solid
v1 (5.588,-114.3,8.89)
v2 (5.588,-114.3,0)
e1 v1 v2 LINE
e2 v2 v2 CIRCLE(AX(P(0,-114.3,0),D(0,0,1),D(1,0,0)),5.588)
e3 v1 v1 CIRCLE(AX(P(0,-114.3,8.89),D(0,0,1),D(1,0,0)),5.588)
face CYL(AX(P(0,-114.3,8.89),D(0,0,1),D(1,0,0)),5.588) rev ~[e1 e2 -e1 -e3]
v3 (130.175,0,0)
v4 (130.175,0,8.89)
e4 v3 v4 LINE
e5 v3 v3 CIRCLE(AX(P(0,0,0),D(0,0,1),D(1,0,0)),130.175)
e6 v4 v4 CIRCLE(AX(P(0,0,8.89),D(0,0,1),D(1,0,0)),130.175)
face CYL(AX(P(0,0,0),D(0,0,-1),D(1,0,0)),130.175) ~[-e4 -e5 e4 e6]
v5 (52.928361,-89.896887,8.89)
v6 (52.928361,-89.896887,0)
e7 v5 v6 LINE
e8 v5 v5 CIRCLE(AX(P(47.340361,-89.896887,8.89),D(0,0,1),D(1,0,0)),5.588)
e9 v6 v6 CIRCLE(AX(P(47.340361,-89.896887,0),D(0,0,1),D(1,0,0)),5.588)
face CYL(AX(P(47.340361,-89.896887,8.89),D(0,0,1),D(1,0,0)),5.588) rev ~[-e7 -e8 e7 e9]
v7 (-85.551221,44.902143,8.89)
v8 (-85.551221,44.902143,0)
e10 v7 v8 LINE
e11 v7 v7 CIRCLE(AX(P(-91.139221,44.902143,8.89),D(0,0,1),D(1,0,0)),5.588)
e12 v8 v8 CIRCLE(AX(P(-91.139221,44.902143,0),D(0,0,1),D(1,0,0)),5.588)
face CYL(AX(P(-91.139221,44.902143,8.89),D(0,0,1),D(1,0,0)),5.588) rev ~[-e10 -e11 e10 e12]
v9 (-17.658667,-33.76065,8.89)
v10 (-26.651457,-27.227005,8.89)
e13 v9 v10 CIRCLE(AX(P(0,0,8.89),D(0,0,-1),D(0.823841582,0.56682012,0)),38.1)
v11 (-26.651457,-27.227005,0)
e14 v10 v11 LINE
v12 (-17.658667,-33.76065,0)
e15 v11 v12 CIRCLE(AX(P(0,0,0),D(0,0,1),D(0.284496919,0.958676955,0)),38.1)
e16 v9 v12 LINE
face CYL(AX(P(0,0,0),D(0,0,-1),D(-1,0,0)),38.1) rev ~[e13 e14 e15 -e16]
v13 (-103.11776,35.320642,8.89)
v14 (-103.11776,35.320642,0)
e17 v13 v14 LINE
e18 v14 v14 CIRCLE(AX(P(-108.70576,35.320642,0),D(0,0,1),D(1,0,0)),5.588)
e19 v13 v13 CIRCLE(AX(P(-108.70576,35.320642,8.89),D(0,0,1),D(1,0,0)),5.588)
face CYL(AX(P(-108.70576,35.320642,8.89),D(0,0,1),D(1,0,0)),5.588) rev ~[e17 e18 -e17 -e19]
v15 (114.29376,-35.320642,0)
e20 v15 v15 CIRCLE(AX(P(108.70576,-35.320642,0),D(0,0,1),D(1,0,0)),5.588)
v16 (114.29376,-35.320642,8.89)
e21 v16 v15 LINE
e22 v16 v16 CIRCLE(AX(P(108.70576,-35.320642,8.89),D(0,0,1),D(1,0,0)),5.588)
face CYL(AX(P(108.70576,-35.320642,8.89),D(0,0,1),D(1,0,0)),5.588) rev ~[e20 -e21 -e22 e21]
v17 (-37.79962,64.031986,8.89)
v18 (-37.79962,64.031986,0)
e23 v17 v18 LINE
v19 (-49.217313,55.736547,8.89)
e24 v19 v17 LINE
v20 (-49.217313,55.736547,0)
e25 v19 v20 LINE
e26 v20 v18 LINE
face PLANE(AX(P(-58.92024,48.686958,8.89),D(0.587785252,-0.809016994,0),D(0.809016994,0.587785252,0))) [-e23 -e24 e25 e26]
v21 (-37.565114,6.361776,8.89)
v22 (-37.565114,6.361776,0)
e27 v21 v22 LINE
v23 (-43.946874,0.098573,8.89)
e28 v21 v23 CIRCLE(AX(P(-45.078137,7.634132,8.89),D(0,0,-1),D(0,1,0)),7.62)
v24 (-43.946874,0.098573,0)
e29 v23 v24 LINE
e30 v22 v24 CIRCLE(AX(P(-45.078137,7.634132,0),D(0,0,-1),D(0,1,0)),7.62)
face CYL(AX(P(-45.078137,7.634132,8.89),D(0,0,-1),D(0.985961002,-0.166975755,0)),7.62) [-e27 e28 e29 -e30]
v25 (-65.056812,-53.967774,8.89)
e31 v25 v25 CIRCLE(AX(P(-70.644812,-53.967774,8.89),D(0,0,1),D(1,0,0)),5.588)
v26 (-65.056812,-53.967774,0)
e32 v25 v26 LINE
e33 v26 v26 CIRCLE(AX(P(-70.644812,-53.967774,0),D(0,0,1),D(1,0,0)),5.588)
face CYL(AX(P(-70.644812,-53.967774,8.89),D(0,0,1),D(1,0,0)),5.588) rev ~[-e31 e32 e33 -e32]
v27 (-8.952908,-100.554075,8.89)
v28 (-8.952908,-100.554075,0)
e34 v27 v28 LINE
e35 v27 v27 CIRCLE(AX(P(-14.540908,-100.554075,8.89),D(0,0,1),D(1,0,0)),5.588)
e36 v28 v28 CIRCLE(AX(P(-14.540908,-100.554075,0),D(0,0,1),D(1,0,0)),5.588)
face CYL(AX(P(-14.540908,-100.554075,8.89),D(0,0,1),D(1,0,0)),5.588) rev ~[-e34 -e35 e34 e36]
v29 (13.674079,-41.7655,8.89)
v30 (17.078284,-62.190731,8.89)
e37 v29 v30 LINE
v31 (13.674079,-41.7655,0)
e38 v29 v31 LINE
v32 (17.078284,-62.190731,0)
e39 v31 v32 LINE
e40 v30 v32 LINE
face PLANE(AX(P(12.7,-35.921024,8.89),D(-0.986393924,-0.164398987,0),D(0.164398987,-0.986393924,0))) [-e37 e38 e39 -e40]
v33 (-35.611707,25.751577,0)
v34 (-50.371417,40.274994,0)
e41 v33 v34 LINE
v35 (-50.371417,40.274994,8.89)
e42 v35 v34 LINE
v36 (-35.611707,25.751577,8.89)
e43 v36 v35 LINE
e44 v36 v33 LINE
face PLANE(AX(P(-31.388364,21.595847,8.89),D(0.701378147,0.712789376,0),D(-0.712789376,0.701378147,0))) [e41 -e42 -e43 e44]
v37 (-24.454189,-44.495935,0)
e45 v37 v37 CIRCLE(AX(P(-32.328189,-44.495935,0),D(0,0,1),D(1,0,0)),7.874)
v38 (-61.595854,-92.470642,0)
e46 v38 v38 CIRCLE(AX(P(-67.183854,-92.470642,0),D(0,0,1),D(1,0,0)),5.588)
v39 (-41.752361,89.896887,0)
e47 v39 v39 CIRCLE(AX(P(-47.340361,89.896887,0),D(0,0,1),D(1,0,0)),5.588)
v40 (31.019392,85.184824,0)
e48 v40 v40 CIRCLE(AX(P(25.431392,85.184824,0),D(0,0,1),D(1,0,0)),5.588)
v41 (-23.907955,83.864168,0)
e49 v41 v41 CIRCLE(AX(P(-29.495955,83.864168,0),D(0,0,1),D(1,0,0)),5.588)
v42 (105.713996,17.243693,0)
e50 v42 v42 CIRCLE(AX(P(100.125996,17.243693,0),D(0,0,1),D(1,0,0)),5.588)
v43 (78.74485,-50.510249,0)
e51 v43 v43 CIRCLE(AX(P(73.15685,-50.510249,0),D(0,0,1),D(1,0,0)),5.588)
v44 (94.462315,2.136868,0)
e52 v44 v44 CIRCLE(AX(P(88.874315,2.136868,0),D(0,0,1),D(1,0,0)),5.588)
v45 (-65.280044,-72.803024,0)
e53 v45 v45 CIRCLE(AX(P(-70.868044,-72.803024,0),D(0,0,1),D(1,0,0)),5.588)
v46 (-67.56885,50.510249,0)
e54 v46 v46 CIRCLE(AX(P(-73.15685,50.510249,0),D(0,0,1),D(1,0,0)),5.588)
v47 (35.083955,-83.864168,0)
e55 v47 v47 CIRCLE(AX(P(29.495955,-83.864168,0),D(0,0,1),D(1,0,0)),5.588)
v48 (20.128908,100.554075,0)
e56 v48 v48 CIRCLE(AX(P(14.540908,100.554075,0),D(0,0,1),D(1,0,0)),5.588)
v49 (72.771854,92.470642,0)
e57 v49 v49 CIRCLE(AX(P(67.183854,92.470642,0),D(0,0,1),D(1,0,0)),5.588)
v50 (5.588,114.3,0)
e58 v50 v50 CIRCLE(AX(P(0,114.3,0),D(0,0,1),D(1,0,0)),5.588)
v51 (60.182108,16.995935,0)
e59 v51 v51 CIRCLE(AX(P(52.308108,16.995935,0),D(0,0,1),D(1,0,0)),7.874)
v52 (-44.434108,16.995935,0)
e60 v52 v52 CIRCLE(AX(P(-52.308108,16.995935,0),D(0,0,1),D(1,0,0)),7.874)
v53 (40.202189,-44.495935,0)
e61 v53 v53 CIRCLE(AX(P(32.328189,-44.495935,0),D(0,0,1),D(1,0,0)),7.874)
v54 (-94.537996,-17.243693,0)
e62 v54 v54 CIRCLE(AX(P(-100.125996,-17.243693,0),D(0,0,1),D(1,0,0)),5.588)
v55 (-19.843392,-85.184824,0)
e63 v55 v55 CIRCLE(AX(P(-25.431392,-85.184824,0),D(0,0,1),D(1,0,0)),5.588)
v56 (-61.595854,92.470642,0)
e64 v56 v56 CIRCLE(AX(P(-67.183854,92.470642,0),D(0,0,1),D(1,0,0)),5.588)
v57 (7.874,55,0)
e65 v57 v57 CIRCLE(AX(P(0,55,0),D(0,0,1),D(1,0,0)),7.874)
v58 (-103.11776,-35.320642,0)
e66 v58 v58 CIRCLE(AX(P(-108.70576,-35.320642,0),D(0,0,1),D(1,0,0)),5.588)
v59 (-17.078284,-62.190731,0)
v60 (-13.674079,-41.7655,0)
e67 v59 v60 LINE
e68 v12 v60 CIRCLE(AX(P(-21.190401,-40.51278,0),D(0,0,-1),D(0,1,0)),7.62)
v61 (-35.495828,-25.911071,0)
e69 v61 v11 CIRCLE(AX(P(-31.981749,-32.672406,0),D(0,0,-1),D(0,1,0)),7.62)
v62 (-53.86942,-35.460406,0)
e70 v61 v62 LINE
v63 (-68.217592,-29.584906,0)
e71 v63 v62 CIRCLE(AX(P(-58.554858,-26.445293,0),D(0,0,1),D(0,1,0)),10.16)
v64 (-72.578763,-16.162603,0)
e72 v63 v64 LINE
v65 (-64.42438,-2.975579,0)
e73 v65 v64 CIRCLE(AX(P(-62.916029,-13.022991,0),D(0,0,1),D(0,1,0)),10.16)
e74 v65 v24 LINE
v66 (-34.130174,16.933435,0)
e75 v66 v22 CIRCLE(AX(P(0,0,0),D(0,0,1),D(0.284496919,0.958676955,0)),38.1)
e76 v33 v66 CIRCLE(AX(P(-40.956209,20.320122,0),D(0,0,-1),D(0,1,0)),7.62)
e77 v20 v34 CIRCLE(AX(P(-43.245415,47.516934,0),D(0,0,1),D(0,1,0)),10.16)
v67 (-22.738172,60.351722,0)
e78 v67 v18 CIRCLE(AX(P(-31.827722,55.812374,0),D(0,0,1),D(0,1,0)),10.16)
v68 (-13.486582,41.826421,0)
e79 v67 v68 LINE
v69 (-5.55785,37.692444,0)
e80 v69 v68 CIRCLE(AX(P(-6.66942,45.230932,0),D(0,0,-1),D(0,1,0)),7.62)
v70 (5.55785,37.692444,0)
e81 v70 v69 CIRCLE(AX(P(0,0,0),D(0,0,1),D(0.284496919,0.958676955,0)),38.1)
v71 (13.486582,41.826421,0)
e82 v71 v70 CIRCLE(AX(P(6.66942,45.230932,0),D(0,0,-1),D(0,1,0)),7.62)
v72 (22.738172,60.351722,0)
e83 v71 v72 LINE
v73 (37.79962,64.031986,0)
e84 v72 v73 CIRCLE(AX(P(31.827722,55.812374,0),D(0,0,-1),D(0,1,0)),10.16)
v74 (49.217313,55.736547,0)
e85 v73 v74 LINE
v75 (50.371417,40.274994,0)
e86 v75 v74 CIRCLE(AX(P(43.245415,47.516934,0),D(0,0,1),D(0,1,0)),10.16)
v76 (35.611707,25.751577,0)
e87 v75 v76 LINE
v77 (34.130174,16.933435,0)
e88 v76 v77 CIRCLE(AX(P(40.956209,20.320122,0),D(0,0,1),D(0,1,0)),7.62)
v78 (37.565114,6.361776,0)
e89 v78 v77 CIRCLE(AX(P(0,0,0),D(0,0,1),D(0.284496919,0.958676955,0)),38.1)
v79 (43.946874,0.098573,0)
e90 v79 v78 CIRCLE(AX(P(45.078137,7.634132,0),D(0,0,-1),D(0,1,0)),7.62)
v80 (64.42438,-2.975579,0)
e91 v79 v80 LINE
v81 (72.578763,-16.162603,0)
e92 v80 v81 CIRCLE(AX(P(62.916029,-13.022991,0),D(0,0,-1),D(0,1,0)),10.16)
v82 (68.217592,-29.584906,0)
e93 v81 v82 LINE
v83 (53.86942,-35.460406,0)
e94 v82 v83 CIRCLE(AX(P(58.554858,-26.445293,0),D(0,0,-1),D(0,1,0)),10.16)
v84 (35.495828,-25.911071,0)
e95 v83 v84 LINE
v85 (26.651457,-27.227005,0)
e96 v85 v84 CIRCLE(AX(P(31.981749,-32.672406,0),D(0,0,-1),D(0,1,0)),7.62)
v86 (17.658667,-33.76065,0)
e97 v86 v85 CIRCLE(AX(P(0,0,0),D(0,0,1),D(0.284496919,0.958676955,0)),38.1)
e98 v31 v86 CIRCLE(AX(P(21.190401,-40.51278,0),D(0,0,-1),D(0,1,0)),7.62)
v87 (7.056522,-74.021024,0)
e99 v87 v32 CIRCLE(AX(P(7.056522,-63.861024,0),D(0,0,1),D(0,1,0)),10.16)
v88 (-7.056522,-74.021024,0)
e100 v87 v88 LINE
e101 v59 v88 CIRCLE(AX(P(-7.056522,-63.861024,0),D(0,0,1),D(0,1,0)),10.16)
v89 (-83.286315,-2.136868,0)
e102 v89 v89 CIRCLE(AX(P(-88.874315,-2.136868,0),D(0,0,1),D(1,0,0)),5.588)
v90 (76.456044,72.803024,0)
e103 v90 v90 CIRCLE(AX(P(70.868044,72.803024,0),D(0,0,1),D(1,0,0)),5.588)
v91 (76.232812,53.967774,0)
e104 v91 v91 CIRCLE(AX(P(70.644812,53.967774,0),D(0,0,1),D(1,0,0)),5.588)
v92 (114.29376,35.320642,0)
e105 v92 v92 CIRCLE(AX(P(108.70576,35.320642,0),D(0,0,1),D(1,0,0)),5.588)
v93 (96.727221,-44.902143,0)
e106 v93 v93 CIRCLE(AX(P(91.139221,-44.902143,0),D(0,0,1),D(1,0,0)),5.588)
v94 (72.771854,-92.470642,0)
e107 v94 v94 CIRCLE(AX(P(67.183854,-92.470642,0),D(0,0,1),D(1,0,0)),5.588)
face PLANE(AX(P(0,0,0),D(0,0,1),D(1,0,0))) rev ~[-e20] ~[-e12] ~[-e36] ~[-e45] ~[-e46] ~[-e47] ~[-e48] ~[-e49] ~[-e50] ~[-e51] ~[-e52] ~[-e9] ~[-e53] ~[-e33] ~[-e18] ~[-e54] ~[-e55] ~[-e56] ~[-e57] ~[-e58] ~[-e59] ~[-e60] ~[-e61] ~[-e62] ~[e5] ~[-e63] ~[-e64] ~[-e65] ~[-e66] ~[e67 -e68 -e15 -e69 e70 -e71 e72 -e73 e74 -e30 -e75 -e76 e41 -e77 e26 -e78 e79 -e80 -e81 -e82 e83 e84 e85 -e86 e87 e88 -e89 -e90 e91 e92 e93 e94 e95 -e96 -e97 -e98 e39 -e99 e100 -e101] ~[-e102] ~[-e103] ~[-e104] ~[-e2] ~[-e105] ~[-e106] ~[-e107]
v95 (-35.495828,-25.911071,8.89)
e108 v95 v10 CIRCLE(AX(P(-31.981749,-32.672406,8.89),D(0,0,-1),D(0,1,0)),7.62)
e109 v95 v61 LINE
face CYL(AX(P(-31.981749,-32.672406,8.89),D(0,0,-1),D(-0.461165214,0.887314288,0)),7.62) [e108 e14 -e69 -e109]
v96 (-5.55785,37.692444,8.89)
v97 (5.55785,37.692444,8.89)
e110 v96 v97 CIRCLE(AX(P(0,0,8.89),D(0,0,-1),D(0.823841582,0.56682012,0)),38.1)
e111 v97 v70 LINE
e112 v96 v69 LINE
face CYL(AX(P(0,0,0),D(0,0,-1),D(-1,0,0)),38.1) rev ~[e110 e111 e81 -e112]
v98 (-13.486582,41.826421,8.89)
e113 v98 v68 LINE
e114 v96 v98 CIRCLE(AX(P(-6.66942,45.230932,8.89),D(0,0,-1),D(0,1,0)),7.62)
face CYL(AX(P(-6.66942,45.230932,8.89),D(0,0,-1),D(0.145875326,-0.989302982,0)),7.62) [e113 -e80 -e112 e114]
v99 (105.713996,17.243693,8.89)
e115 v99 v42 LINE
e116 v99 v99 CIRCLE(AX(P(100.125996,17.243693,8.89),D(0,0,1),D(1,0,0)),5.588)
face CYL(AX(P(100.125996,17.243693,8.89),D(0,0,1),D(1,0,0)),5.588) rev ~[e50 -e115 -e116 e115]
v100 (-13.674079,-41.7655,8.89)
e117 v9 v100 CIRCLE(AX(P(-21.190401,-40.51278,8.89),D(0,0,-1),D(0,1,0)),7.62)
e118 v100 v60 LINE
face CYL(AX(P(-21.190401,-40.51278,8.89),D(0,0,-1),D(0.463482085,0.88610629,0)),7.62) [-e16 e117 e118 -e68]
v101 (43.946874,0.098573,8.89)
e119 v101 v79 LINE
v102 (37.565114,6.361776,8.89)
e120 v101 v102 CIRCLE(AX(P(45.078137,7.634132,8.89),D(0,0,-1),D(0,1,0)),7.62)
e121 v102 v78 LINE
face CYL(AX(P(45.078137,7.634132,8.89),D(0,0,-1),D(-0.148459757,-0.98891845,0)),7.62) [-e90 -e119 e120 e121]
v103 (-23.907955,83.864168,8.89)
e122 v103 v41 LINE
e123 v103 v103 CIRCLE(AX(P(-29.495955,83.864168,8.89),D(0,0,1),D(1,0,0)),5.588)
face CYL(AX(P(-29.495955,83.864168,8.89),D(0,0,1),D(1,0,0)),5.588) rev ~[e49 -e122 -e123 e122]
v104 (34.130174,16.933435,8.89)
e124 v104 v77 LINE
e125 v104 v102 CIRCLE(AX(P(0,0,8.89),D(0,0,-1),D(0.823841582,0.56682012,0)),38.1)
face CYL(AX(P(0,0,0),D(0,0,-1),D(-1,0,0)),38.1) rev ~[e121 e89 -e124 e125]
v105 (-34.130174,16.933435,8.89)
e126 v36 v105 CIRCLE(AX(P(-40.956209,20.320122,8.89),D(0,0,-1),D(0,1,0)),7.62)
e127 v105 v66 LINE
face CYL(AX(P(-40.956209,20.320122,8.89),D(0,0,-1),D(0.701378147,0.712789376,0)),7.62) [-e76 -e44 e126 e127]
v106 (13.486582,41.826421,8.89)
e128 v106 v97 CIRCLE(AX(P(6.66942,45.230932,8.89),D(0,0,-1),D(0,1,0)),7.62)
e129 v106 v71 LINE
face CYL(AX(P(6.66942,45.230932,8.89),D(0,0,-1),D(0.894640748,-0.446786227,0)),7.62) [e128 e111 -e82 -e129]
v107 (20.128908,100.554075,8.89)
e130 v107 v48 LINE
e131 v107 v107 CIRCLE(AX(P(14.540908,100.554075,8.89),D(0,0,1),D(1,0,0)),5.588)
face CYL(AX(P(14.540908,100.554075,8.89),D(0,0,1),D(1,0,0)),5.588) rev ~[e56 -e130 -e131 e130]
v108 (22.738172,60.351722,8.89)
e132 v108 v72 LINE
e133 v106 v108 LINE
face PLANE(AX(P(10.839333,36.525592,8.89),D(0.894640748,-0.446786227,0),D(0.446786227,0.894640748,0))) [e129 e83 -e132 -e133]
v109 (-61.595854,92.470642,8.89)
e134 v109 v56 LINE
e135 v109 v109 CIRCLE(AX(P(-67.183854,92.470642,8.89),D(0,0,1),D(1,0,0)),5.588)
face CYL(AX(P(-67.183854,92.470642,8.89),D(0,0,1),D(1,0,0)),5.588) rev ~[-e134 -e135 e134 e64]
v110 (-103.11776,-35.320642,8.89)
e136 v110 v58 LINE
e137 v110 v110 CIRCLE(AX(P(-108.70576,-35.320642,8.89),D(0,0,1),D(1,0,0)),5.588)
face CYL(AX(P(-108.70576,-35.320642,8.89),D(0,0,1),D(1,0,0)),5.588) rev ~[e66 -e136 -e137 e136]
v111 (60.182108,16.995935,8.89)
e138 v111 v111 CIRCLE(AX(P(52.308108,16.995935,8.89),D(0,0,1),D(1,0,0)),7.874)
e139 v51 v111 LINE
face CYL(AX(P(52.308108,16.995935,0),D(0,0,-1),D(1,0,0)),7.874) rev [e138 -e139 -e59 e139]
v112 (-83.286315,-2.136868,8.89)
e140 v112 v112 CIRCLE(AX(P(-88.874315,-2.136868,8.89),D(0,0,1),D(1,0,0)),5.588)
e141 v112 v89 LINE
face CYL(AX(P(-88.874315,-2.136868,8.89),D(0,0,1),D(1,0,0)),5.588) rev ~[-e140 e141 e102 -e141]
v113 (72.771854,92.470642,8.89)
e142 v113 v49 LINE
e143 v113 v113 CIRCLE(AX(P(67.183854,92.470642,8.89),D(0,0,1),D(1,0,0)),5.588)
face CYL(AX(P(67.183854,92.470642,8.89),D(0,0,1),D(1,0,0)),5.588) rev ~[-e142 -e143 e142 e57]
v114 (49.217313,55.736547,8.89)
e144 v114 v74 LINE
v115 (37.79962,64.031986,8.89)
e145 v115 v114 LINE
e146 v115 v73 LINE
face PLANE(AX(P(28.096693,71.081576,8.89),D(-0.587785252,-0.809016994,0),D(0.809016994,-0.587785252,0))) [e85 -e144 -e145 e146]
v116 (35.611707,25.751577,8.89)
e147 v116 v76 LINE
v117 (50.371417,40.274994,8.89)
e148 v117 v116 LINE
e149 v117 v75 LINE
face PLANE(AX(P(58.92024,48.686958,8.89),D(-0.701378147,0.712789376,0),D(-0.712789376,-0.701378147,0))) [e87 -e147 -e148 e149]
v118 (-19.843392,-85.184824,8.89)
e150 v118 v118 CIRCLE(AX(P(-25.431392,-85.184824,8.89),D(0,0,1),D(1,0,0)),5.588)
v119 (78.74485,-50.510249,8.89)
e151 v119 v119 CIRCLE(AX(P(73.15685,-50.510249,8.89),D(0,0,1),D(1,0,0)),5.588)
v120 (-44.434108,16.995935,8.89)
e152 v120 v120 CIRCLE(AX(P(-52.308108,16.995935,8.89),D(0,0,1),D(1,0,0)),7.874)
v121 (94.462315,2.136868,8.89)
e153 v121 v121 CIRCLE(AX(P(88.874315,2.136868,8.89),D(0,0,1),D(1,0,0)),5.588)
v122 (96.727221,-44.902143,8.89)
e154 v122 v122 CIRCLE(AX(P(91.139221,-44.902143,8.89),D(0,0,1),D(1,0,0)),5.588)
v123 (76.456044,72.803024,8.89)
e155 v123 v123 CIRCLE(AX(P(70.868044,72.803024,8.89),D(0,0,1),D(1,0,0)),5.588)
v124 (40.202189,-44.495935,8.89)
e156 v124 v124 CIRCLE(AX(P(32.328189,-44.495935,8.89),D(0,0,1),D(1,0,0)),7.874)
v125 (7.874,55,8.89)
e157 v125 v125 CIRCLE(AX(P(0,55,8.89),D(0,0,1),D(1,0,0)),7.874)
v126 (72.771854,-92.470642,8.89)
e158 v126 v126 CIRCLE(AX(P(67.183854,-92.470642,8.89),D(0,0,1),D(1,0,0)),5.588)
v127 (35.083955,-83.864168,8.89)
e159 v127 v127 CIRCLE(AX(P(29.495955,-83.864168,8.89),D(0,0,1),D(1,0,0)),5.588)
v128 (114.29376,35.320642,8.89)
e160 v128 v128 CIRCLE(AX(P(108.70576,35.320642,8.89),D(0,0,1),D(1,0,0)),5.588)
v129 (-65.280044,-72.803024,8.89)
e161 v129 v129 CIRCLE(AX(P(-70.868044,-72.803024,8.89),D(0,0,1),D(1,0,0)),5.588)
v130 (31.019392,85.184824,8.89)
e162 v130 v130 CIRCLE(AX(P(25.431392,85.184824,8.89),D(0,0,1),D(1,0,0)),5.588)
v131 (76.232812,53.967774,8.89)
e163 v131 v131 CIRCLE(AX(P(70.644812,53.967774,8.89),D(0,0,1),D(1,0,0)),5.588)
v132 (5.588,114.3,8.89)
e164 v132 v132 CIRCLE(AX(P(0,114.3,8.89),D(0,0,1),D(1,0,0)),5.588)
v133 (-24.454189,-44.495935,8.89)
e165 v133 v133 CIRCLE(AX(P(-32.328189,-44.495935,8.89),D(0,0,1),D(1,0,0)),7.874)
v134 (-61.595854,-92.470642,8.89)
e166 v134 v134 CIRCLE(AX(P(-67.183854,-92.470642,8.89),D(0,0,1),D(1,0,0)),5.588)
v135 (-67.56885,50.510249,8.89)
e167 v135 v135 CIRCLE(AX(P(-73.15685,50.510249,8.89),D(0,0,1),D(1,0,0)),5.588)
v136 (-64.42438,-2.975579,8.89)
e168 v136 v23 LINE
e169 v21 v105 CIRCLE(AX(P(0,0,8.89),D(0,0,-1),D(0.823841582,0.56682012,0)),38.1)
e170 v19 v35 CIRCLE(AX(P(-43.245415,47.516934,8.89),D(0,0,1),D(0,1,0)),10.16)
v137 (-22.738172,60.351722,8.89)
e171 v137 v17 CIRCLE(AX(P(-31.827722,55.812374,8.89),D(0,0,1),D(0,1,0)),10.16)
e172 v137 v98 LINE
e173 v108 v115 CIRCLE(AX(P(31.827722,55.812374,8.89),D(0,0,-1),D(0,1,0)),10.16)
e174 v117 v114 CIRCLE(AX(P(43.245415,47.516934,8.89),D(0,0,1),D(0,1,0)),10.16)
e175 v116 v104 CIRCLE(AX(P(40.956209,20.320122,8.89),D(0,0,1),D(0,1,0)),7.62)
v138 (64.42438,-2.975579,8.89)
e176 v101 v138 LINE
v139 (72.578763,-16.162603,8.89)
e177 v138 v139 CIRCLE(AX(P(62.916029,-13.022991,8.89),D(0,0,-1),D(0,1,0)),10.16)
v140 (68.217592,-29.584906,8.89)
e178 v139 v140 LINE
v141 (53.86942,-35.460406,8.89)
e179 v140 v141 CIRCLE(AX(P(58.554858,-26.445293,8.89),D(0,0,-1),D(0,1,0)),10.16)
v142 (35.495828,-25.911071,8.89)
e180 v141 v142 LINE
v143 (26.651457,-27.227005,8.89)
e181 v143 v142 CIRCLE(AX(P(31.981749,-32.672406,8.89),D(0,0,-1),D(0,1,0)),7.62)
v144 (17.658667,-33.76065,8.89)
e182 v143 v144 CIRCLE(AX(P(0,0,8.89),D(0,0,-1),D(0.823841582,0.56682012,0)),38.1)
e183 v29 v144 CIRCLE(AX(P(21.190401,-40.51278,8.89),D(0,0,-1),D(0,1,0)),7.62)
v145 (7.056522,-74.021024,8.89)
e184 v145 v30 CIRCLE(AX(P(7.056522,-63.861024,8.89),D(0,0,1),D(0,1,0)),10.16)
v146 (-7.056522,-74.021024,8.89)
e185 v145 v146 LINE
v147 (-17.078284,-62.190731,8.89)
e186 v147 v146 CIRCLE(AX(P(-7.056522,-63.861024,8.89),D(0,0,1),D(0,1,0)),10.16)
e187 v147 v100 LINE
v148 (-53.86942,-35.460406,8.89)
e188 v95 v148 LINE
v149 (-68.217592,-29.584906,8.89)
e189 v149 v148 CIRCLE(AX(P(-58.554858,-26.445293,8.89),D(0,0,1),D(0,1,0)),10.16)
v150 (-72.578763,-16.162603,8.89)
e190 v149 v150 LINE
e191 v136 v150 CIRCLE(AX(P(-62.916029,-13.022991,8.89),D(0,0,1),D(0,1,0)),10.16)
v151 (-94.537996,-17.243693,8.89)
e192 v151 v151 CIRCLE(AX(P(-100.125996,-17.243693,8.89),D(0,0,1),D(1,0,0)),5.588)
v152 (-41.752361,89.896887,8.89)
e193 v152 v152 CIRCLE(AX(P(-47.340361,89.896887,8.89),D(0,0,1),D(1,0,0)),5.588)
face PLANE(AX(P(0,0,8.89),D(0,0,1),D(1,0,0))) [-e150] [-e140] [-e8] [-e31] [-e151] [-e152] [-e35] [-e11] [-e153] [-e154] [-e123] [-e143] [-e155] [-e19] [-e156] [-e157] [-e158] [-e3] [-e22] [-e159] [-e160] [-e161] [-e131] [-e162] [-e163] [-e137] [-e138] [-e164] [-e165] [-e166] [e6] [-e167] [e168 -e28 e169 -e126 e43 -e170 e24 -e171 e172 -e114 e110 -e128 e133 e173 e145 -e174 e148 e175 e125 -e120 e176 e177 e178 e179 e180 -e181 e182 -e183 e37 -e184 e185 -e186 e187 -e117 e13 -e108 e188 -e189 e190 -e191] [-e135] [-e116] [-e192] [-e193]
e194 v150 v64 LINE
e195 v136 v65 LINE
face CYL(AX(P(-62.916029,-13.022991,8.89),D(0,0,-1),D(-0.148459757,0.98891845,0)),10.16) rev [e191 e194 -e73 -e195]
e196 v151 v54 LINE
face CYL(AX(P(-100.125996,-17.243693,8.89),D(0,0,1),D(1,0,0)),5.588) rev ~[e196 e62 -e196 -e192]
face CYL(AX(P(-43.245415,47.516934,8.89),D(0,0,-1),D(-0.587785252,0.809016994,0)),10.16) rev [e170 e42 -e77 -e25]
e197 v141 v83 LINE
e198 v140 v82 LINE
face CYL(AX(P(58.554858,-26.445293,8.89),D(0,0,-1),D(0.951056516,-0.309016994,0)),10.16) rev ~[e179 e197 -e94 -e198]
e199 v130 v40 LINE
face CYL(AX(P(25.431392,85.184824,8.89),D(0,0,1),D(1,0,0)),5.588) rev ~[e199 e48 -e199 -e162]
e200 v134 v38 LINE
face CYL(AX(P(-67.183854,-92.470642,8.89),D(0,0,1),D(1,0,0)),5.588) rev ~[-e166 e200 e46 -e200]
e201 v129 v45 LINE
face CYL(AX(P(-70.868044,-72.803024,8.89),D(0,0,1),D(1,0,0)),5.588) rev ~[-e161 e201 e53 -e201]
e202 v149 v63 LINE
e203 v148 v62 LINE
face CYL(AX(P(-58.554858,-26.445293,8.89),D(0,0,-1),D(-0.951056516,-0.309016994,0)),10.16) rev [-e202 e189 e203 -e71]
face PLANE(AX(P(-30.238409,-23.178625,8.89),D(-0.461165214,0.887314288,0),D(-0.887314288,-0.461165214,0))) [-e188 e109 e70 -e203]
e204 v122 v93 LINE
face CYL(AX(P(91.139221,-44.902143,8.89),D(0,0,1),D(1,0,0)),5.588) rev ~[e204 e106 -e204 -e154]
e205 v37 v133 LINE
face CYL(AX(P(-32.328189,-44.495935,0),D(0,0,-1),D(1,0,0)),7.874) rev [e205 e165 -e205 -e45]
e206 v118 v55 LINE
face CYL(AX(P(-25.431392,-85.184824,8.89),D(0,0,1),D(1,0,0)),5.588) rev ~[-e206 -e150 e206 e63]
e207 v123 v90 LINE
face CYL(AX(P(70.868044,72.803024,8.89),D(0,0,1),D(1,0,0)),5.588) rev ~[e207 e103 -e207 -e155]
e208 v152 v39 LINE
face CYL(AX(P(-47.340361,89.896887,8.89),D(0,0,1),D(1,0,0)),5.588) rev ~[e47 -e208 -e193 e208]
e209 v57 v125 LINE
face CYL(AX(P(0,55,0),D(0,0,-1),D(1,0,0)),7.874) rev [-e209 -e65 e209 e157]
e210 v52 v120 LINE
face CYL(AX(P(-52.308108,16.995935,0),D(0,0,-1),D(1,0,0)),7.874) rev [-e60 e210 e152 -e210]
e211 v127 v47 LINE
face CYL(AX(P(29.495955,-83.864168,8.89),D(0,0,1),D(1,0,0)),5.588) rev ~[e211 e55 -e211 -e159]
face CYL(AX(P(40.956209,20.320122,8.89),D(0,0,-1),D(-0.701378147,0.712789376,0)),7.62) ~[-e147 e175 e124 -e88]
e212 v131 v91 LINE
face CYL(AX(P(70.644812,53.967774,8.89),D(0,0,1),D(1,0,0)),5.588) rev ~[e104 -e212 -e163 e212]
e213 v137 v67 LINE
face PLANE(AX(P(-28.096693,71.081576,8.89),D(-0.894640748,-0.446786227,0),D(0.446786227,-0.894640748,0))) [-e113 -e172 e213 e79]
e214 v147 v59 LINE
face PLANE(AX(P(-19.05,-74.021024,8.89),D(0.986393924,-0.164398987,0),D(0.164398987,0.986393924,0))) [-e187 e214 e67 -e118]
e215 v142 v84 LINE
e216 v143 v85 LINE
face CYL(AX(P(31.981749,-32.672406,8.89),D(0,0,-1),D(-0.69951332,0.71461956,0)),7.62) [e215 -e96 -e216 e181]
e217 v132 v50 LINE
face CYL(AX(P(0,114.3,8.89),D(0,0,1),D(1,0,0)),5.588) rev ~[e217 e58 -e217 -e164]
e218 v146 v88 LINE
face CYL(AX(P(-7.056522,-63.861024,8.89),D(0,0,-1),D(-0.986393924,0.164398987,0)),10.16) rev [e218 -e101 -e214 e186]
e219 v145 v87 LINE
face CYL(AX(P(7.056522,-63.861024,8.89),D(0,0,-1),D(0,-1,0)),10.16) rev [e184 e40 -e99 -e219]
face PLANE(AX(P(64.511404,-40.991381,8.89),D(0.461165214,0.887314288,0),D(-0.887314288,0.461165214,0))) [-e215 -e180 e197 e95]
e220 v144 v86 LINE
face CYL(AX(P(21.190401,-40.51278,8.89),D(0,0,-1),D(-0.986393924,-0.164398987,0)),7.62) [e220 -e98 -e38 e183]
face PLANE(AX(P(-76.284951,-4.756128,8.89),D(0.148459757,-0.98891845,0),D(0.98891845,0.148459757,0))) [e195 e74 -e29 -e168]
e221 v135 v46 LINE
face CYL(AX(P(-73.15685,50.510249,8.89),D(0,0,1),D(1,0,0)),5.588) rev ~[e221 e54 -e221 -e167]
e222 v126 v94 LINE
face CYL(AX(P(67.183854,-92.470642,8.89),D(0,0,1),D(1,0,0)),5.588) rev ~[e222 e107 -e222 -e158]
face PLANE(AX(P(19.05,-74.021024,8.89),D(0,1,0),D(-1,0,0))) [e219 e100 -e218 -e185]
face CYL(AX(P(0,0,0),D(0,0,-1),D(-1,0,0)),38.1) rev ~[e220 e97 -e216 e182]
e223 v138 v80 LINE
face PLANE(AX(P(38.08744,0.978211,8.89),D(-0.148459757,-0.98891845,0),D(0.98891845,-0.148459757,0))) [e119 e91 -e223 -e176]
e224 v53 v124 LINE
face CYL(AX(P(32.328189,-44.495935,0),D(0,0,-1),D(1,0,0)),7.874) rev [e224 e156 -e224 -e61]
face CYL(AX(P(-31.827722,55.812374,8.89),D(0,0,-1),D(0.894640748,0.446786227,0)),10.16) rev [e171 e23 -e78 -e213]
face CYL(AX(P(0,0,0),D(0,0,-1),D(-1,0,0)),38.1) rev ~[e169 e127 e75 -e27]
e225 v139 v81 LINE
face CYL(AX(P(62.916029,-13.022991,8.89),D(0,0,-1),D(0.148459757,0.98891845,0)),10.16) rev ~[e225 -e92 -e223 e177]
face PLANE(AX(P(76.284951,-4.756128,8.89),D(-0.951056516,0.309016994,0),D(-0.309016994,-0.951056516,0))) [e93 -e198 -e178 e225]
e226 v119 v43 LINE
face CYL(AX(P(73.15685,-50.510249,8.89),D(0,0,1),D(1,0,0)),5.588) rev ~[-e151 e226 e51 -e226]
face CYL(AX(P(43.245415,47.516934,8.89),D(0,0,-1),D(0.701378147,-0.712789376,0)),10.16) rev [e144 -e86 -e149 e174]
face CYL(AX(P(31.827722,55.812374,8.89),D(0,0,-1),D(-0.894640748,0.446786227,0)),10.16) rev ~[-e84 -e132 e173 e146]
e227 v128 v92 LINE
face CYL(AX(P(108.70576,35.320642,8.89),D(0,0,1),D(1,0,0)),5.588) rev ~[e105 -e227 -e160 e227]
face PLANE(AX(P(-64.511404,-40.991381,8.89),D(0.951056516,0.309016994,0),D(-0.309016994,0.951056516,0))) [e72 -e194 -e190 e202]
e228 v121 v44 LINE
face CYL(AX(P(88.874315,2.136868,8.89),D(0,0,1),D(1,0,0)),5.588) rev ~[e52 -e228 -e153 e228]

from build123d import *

# Parameters (mm, degrees)
SKETCH1_R                = 130.175
SKETCH1_R_2              = 7.874
EXTRUDE1_DEPTH           = 8.89
SKETCH3_R                = 38.1
EXTRUDE3_DEPTH           = 185.309775514
SKETCH4_R                = 5.588
EXTRUDE4_DEPTH           = 185.309775514
EXTRUDE9_DEPTH           = 185.309775514
FILLET1_R                = 7.62
FILLET2_R                = 10.16
CIRPATTERN1_COUNT        = 5
FILLET1_OF_CIRPATTERN1_R = 7.62
FILLET2_OF_CIRPATTERN1_R = 10.16


with BuildPart() as part:
    # Sketch1 → Extrude1 (new body)
    with BuildSketch(Plane.XY):
        Circle(SKETCH1_R)
        with Locations((0, 55)):
            Circle(SKETCH1_R_2, mode=Mode.SUBTRACT)
        with Locations((52.308108396, 16.995934691)):
            Circle(SKETCH1_R_2, mode=Mode.SUBTRACT)
        with Locations((32.328188876, -44.495934691)):
            Circle(SKETCH1_R_2, mode=Mode.SUBTRACT)
        with Locations((-32.328188876, -44.495934691)):
            Circle(SKETCH1_R_2, mode=Mode.SUBTRACT)
        with Locations((-52.308108396, 16.995934691)):
            Circle(SKETCH1_R_2, mode=Mode.SUBTRACT)
    extrude(amount=EXTRUDE1_DEPTH)

    # Sketch3 → Extrude3 (cut, through all)
    with BuildSketch(Plane(origin=(0, 0, 0), x_dir=(-1, 0, 0), z_dir=(0, 0, -1))):
        Circle(SKETCH3_R)
    extrude(amount=-EXTRUDE3_DEPTH, mode=Mode.SUBTRACT)

    # Sketch4 → Extrude4 (cut, through all)
    with BuildSketch(Plane.XY.offset(8.89)):
        with Locations((0, 114.3)):
            Circle(SKETCH4_R)
        with Locations((14.540907903, 100.554074991)):
            Circle(SKETCH4_R)
        with Locations((25.431391759, 85.18482443)):
            Circle(SKETCH4_R)
        with Locations((70.868043945, 72.803024301)):
            Circle(SKETCH4_R)
        with Locations((70.644811643, 53.967773605)):
            Circle(SKETCH4_R)
        with Locations((67.183854337, 92.470642457)):
            Circle(SKETCH4_R)
        with Locations((100.125995916, 17.243692812)):
            Circle(SKETCH4_R)
        with Locations((88.874314608, 2.13686756)):
            Circle(SKETCH4_R)
        with Locations((108.705759813, 35.320642457)):
            Circle(SKETCH4_R)
        with Locations((91.139220605, -44.90214324)):
            Circle(SKETCH4_R)
        with Locations((73.156850119, -50.510249263)):
            Circle(SKETCH4_R)
        with Locations((108.705759813, -35.320642457)):
            Circle(SKETCH4_R)
        with Locations((47.34036073, -89.896886742)):
            Circle(SKETCH4_R)
        with Locations((29.495955395, -83.864167648)):
            Circle(SKETCH4_R)
        with Locations((67.183854337, -92.470642457)):
            Circle(SKETCH4_R)
        with Locations((-14.540907903, -100.554074991)):
            Circle(SKETCH4_R)
        with Locations((-25.431391759, -85.18482443)):
            Circle(SKETCH4_R)
        with Locations((0, -114.3)):
            Circle(SKETCH4_R)
        with Locations((-70.868043945, -72.803024301)):
            Circle(SKETCH4_R)
        with Locations((-70.644811643, -53.967773605)):
            Circle(SKETCH4_R)
        with Locations((-67.183854337, -92.470642457)):
            Circle(SKETCH4_R)
        with Locations((-100.125995916, -17.243692812)):
            Circle(SKETCH4_R)
        with Locations((-88.874314608, -2.13686756)):
            Circle(SKETCH4_R)
        with Locations((-108.705759813, -35.320642457)):
            Circle(SKETCH4_R)
        with Locations((-91.139220605, 44.90214324)):
            Circle(SKETCH4_R)
        with Locations((-73.156850119, 50.510249263)):
            Circle(SKETCH4_R)
        with Locations((-108.705759813, 35.320642457)):
            Circle(SKETCH4_R)
        with Locations((-47.34036073, 89.896886742)):
            Circle(SKETCH4_R)
        with Locations((-29.495955395, 83.864167648)):
            Circle(SKETCH4_R)
        with Locations((-67.183854337, 92.470642457)):
            Circle(SKETCH4_R)
    extrude(amount=-EXTRUDE4_DEPTH, mode=Mode.SUBTRACT)

    # Sketch8 → Extrude9 (cut, through all)
    with BuildSketch(Plane.XY.offset(8.89)):
        Polygon((28.096692809, 71.081575805), (58.920240294, 48.686957693), (31.388364268, 21.595846559), (10.839332611, 36.525591967), align=None)
    extrude9 = extrude(amount=-EXTRUDE9_DEPTH, mode=Mode.SUBTRACT)

    # Fillet1
    fillet1_edges = [part.edges().sort_by_distance(p)[0] for p in [
        (31.388364268, 21.595846559, 4.445),
        (10.839332611, 36.525591967, 4.445),
    ]]
    fillet(fillet1_edges, radius=FILLET1_R)

    # Fillet2
    fillet2_edges = [part.edges().sort_by_distance(p)[0] for p in [
        (58.920240294, 48.686957693, 4.445),
        (28.096692809, 71.081575805, 4.445),
    ]]
    fillet(fillet2_edges, radius=FILLET2_R)

    # CirPattern1: Extrude9 ×5 about axis
    cirpattern1_axis = Axis((0, 0, 0), (0, 0, -1))
    for i in range(1, CIRPATTERN1_COUNT):
        add(extrude9.rotate(cirpattern1_axis, i * 360 / CIRPATTERN1_COUNT), mode=Mode.SUBTRACT)

    # Fillet1 of CirPattern1
    fillet1_of_cirpattern1_edges = [part.edges().sort_by_distance(p)[0] for p in [
        (30.238408579, -23.178624778, 4.445),
        (38.087440236, 0.978210736, 4.445),
        (-12.7, -35.921024484, 4.445),
        (12.7, -35.921024484, 4.445),
        (-38.087440236, 0.978210736, 4.445),
        (-30.238408579, -23.178624778, 4.445),
        (-10.839332611, 36.525591967, 4.445),
        (-31.388364268, 21.595846559, 4.445),
    ]]
    fillet(fillet1_of_cirpattern1_edges, radius=FILLET1_OF_CIRPATTERN1_R)

    # Fillet2 of CirPattern1
    fillet2_of_cirpattern1_edges = [part.edges().sort_by_distance(p)[0] for p in [
        (64.511403936, -40.991381142, 4.445),
        (76.284951421, -4.756127871, 4.445),
        (-19.05, -74.021024484, 4.445),
        (19.05, -74.021024484, 4.445),
        (-76.284951421, -4.756127871, 4.445),
        (-64.511403936, -40.991381142, 4.445),
        (-28.096692809, 71.081575805, 4.445),
        (-58.920240294, 48.686957693, 4.445),
    ]]
    fillet(fillet2_of_cirpattern1_edges, radius=FILLET2_OF_CIRPATTERN1_R)


solid = part.part
